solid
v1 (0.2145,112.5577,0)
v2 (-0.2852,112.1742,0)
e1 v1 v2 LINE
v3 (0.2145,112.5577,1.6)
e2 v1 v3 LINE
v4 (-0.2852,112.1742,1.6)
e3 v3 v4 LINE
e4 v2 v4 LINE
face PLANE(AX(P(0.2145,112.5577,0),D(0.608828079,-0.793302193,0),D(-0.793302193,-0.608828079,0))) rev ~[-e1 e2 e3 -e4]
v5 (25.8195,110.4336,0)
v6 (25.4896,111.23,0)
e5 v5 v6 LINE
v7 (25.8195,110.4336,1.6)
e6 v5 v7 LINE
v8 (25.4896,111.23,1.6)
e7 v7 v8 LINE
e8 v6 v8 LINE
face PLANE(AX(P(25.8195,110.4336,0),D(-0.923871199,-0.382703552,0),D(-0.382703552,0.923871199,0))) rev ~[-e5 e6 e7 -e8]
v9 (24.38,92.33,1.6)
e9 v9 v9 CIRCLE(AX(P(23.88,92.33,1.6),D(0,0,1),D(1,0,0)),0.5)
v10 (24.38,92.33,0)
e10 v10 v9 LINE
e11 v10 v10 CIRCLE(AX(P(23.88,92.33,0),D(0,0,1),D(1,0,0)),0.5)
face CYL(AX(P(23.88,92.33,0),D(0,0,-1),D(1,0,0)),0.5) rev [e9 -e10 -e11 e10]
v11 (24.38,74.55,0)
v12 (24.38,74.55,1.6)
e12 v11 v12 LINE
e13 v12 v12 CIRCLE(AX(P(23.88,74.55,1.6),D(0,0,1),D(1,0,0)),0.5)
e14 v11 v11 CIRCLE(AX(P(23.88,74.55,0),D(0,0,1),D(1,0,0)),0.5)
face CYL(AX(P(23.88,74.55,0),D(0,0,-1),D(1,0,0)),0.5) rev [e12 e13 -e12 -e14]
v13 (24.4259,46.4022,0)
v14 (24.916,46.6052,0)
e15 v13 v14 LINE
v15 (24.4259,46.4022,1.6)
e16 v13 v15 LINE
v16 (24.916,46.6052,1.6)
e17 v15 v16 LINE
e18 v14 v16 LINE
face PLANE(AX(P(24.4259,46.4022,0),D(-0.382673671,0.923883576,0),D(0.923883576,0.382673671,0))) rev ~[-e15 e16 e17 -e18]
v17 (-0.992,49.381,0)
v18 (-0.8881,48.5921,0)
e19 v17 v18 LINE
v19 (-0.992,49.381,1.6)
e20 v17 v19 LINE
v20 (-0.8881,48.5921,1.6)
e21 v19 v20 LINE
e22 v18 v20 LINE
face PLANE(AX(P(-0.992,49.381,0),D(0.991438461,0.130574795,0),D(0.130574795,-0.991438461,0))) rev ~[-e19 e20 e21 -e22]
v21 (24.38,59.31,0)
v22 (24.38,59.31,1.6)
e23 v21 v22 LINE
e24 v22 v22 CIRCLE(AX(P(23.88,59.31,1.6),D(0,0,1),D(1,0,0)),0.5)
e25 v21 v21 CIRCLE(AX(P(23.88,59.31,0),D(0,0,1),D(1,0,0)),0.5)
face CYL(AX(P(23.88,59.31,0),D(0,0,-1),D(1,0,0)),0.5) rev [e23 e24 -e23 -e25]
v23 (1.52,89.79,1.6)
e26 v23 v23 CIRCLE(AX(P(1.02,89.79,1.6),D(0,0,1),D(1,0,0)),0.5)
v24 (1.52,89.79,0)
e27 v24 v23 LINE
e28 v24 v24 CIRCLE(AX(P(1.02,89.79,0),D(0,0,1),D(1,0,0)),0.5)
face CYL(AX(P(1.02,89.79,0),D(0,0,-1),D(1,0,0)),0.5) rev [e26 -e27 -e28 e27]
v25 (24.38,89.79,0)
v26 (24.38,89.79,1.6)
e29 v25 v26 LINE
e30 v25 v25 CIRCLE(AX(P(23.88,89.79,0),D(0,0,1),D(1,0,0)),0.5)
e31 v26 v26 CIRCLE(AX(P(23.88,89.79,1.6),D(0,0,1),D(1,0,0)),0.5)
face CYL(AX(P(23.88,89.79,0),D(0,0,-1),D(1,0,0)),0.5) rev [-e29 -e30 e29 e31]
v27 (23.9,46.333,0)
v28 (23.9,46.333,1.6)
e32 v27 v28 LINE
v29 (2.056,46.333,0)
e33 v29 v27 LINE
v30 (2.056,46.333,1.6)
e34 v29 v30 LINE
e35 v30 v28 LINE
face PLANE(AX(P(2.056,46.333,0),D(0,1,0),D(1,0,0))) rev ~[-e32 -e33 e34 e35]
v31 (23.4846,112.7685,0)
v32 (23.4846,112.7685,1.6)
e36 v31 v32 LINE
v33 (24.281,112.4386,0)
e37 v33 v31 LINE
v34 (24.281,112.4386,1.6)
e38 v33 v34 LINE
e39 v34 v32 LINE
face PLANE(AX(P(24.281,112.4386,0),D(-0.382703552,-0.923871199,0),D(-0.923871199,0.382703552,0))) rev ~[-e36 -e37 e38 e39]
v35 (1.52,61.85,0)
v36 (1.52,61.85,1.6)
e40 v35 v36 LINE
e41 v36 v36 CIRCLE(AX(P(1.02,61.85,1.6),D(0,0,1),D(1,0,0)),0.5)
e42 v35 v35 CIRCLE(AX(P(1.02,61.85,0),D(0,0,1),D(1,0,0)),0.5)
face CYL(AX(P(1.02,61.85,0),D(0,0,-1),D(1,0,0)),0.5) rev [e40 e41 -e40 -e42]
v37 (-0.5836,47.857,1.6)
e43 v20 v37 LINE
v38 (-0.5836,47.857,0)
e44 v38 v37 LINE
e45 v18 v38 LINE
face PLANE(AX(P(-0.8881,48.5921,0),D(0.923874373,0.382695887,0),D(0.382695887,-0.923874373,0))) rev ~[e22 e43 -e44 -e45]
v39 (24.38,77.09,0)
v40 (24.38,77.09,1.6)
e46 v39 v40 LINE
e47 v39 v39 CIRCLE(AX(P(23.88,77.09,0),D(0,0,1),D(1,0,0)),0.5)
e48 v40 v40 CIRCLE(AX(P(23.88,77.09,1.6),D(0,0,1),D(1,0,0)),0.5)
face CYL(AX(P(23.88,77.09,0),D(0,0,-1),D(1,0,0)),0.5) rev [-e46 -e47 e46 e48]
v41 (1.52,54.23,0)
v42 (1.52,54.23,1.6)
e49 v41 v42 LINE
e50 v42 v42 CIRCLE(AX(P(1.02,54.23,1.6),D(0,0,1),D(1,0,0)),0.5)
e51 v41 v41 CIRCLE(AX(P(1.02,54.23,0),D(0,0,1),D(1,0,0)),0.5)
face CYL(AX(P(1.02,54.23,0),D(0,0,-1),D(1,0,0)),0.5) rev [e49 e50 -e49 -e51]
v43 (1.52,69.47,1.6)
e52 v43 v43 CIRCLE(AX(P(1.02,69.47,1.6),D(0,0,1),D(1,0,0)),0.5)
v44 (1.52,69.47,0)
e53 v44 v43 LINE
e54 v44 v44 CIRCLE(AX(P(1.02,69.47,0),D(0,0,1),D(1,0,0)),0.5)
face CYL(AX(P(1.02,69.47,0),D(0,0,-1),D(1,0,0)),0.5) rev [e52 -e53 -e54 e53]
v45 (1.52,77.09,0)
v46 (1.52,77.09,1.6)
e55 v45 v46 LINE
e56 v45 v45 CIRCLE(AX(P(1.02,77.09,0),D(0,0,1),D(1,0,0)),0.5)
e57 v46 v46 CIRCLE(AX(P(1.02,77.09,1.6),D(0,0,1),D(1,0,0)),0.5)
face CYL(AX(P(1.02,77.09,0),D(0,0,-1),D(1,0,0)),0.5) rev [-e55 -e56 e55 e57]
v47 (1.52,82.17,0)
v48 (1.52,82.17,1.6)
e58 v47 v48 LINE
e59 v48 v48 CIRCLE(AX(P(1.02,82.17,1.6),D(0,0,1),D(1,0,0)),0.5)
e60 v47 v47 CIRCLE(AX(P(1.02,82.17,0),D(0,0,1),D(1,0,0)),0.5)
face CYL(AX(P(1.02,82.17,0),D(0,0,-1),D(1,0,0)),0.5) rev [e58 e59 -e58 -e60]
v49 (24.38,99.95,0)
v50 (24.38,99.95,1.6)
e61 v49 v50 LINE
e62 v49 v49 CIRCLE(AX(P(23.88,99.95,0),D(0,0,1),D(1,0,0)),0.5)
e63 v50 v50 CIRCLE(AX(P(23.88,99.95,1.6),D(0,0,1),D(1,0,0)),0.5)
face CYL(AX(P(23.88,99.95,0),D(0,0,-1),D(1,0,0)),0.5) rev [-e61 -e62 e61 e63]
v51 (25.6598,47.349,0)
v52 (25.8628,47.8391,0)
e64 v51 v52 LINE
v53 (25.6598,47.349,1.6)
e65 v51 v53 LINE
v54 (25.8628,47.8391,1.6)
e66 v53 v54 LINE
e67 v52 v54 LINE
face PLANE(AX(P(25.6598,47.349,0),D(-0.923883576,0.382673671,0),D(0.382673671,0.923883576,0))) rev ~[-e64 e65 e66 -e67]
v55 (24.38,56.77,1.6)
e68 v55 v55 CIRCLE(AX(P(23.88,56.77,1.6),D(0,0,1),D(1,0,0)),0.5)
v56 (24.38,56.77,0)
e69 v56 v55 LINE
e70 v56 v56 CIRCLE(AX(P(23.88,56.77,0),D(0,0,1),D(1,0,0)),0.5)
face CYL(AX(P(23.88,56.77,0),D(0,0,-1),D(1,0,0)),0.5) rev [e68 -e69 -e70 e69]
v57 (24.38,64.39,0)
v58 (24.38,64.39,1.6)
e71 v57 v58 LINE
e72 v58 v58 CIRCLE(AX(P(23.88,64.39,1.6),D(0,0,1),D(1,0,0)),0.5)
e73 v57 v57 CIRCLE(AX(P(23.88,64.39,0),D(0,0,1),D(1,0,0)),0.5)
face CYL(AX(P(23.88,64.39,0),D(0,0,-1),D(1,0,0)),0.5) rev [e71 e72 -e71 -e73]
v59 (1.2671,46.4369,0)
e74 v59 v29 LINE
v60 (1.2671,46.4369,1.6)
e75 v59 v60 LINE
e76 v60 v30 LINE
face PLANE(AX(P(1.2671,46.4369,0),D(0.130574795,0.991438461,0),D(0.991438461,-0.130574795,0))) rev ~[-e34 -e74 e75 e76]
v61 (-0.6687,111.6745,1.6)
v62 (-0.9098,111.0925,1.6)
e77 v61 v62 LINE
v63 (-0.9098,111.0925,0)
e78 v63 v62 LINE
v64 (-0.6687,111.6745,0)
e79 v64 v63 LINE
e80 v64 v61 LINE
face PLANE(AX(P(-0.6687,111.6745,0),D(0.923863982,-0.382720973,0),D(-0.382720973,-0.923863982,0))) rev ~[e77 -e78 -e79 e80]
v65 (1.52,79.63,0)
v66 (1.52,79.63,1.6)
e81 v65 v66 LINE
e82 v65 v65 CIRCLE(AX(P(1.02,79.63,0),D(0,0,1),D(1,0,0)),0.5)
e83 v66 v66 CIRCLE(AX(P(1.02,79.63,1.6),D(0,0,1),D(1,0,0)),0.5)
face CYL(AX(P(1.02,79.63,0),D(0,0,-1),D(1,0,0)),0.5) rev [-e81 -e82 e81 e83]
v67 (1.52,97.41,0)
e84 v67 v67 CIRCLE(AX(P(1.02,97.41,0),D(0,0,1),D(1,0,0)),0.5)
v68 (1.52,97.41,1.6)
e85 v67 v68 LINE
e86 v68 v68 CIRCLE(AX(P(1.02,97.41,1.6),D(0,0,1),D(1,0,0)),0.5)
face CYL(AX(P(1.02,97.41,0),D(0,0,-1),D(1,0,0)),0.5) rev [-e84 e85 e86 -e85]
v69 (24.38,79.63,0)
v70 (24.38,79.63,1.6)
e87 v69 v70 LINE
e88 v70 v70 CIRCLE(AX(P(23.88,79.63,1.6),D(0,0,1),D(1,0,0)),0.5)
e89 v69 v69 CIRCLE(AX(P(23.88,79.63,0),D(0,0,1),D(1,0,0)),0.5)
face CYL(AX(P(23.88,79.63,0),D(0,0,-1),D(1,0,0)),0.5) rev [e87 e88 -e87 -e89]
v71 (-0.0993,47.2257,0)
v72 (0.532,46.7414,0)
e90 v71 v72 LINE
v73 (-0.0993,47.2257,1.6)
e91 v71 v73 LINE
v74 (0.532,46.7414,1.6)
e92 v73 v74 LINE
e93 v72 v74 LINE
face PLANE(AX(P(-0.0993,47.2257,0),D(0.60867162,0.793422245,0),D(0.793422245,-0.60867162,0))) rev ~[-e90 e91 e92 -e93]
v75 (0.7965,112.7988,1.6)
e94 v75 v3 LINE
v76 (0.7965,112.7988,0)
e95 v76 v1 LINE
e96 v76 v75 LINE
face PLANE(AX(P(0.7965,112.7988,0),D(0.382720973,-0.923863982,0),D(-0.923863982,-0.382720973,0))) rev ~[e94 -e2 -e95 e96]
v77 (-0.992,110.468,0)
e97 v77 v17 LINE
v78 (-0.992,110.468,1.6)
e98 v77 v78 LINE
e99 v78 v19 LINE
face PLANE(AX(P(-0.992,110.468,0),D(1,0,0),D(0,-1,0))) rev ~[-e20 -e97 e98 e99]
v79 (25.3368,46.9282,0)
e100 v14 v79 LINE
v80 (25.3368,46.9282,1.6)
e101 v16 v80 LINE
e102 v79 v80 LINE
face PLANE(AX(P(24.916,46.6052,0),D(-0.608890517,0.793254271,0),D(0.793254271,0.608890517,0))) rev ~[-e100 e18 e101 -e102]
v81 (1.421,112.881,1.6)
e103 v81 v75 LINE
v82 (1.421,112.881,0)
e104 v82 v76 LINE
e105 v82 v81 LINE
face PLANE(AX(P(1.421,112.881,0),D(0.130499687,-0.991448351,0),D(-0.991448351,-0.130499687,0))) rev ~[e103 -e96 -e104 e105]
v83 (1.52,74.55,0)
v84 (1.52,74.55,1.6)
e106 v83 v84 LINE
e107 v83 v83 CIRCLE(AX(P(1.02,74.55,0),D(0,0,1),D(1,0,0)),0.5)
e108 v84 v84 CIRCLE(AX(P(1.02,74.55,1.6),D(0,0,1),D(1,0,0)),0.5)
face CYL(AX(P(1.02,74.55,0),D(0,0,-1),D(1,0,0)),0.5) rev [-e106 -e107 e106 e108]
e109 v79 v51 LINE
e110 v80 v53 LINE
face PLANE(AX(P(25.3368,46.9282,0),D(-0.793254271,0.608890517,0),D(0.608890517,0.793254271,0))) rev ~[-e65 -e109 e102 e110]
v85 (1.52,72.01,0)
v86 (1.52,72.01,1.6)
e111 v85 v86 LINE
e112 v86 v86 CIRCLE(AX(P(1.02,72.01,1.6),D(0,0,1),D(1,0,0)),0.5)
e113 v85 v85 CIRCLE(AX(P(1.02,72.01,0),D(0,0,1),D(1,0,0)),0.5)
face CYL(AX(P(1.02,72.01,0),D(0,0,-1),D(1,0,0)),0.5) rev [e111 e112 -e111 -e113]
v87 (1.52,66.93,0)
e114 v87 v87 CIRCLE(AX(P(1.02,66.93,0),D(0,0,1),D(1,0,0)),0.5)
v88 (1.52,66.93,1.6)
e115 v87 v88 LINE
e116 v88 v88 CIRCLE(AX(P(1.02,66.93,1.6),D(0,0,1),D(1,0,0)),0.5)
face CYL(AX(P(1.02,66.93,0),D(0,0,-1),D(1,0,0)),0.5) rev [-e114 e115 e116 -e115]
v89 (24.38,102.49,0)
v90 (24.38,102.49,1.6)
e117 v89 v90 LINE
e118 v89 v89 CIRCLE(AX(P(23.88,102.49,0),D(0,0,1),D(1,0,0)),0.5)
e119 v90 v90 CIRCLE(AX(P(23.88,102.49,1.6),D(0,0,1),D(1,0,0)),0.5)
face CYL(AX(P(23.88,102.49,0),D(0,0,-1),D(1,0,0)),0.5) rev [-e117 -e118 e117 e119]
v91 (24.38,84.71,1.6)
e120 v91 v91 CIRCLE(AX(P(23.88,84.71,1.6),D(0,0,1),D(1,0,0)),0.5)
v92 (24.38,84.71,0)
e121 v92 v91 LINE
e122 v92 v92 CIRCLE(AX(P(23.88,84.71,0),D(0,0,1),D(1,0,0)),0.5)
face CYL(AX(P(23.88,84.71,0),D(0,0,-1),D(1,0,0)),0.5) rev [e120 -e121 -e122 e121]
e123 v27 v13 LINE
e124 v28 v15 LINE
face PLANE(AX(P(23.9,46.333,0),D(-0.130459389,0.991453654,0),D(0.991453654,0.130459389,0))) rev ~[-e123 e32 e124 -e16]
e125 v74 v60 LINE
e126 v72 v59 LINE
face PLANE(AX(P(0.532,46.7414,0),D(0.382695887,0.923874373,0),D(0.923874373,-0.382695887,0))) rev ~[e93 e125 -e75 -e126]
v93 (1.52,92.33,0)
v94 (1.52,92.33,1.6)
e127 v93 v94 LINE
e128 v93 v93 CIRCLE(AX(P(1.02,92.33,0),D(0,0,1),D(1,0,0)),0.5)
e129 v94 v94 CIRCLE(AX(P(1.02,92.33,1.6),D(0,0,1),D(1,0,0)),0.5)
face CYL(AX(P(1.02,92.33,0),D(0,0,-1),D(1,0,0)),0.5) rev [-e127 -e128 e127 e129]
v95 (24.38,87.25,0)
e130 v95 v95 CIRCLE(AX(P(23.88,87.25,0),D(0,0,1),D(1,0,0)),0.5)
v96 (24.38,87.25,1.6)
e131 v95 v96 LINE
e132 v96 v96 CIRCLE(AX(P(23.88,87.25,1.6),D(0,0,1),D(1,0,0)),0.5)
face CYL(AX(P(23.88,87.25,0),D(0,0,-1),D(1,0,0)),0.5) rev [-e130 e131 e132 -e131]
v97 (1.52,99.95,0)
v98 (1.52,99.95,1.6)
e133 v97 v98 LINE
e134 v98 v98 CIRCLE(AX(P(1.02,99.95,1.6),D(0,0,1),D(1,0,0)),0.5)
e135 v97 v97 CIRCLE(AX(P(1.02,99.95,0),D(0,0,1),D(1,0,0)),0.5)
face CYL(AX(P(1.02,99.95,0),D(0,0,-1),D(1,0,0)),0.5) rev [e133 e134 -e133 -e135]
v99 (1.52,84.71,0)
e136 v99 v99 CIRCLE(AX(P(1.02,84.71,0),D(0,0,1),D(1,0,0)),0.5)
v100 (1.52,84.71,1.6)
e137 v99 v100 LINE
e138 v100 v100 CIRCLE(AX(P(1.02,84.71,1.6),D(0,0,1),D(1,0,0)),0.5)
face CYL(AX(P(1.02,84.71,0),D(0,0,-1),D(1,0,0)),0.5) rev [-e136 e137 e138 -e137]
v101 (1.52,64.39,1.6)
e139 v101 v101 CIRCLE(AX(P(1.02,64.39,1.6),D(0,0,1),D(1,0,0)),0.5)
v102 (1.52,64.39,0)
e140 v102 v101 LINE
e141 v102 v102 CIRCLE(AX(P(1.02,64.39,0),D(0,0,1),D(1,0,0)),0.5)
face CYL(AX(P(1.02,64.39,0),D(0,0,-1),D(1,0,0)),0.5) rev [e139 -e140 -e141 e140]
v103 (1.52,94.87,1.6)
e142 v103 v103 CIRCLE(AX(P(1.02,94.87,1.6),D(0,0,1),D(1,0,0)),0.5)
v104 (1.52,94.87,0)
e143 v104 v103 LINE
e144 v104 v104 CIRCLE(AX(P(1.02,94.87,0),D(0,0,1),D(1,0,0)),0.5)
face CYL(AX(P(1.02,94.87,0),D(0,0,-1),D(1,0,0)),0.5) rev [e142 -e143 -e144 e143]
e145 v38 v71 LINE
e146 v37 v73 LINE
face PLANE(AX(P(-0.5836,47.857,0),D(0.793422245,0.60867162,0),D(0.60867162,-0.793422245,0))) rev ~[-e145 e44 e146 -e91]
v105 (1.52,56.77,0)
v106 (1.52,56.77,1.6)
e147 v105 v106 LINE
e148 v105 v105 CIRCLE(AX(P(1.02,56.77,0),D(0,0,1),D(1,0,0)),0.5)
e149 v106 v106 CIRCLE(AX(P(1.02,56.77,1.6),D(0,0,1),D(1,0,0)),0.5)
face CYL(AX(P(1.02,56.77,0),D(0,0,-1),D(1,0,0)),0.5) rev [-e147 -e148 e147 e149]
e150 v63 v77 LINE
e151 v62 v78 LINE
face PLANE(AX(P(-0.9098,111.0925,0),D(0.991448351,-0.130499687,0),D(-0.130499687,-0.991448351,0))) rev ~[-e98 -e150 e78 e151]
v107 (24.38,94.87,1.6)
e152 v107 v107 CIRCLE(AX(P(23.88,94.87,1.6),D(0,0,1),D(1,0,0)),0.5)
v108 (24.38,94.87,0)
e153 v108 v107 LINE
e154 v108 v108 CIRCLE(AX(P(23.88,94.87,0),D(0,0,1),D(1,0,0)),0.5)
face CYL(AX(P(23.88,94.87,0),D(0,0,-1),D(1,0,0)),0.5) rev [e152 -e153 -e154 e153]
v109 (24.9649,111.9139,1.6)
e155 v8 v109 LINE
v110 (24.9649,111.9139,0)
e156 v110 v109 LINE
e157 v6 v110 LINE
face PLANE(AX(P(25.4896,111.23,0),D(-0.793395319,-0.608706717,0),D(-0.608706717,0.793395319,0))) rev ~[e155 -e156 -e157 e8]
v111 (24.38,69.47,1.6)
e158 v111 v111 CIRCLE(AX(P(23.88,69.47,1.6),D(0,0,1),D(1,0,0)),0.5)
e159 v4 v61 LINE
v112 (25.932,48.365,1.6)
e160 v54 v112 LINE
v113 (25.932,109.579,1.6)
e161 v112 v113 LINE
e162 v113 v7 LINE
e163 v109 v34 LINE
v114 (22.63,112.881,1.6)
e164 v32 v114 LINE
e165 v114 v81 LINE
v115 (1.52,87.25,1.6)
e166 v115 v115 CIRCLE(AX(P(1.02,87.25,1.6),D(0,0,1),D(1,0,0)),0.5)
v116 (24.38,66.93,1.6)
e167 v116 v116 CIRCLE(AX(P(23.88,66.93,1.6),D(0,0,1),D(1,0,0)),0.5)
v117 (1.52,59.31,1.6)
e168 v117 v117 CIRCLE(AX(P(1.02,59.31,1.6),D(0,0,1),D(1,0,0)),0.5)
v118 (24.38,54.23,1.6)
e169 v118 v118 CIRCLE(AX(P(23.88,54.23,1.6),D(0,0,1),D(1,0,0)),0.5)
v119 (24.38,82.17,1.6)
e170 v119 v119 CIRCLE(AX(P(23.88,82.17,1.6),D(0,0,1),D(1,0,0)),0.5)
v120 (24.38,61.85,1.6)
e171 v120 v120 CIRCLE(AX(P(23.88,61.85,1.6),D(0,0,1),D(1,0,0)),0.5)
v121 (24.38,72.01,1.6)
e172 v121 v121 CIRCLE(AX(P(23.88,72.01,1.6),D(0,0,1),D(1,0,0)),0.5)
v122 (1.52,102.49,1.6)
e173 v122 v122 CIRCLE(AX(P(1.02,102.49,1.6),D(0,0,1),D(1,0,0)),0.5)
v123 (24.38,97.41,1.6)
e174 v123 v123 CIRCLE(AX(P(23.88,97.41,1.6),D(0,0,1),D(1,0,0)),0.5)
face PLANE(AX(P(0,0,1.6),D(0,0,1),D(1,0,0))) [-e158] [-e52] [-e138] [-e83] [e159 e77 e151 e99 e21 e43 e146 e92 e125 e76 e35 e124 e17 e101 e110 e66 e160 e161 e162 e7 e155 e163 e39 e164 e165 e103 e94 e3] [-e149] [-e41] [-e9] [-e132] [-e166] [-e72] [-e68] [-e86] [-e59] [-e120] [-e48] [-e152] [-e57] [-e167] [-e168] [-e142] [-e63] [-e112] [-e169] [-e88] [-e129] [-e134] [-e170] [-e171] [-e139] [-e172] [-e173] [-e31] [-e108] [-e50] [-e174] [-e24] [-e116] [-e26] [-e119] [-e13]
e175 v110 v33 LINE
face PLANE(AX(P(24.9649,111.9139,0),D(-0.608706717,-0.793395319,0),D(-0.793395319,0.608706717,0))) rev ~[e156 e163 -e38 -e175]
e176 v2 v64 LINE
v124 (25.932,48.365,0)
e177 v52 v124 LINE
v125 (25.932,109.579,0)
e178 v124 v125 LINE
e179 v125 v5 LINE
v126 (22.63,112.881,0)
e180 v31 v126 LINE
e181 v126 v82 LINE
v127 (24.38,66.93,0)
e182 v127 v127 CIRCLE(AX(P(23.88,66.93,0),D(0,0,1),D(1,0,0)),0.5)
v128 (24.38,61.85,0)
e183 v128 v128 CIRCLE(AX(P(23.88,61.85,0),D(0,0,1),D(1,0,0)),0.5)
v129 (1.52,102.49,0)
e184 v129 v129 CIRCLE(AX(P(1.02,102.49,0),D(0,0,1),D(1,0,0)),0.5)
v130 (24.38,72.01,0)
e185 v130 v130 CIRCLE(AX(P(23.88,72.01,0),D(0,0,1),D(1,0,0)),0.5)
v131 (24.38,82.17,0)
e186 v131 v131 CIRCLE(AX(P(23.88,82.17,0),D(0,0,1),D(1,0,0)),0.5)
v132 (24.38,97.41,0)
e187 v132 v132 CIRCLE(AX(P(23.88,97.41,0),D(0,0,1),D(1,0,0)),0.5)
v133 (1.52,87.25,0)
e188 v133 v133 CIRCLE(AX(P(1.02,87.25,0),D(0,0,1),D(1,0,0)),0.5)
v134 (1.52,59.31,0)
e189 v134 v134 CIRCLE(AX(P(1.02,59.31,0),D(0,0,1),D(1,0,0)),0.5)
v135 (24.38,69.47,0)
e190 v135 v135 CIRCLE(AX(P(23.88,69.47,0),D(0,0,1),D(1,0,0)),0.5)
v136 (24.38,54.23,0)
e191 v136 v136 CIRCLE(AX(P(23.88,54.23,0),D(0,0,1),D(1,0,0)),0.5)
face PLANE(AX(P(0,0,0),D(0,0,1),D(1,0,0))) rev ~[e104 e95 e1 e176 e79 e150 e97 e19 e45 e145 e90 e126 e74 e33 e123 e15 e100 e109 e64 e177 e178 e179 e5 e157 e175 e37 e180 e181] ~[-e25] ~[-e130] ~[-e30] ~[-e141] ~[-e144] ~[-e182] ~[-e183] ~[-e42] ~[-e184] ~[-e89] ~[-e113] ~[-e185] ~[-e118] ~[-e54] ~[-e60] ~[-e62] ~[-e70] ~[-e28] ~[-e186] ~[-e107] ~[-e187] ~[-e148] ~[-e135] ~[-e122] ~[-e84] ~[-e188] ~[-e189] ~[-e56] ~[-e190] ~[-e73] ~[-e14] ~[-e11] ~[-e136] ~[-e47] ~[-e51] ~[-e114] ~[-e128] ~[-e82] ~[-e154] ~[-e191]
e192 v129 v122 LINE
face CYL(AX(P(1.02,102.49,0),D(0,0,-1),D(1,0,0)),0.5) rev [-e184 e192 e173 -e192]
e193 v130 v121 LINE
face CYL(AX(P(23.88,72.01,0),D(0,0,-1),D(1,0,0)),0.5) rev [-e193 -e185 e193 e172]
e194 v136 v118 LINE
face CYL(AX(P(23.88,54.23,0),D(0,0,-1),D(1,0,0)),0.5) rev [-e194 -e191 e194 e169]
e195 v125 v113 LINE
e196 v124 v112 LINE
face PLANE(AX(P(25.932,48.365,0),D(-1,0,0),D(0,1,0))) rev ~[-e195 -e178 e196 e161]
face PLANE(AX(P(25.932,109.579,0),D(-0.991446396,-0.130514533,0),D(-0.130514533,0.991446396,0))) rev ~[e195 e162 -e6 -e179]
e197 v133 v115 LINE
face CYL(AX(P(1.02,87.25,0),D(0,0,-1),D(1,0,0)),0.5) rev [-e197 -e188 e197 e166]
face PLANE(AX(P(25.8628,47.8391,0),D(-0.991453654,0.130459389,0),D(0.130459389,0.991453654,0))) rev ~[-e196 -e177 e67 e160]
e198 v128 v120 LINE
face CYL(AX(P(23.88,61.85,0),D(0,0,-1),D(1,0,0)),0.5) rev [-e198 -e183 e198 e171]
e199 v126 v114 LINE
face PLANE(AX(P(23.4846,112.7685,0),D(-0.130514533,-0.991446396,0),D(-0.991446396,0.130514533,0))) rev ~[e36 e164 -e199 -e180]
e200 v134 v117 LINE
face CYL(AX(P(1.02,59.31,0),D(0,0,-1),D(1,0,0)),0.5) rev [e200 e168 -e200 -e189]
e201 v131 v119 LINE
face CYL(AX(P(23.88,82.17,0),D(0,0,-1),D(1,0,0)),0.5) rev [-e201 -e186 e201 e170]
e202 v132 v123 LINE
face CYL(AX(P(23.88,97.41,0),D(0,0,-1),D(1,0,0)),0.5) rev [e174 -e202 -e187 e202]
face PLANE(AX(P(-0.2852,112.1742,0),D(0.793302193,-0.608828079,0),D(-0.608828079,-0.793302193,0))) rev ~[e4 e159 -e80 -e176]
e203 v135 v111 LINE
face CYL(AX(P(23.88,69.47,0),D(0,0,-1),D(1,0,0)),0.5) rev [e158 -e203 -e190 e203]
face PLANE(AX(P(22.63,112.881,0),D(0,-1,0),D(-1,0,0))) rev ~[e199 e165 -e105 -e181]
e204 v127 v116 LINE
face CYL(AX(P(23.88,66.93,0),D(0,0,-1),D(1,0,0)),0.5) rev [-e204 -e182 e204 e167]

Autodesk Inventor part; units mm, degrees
ref_plane "YZ Plane" through (0, 0, 0) normal (1, 0, 0) x (0, 1, 0)
ref_plane "XZ Plane" through (0, 0, 0) normal (0, 1, 0) x (-1, 0, 0)
ref_plane "XY Plane" through (0, 0, 0) normal (0, 0, 1) x (1, 0, 0)
sketch "Эскиз1" plane through (0, 0, 0) normal (0, 0, 1) x (1, 0, 0)
  line L0 (-0.992, 110.468) -> (-0.992, 49.381)
  line L1 (-0.992, 49.381) -> (-0.8881, 48.5921)
  line L2 (-0.8881, 48.5921) -> (-0.5836, 47.857)
  line L3 (-0.5836, 47.857) -> (-0.0993, 47.2257)
  line L4 (-0.0993, 47.2257) -> (0.532, 46.7414)
  line L5 (0.532, 46.7414) -> (1.2671, 46.4369)
  line L6 (1.2671, 46.4369) -> (2.056, 46.333)
  line L7 (2.056, 46.333) -> (23.9, 46.333)
  line L8 (23.9, 46.333) -> (24.4259, 46.4022)
  line L9 (24.4259, 46.4022) -> (24.916, 46.6052)
  line L10 (24.916, 46.6052) -> (25.3368, 46.9282)
  line L11 (25.3368, 46.9282) -> (25.6598, 47.349)
  line L12 (25.6598, 47.349) -> (25.8628, 47.8391)
  line L13 (25.8628, 47.8391) -> (25.932, 48.365)
  line L14 (25.932, 48.365) -> (25.932, 109.579)
  line L15 (25.932, 109.579) -> (25.8195, 110.4336)
  line L16 (25.8195, 110.4336) -> (25.4896, 111.23)
  line L17 (25.4896, 111.23) -> (24.9649, 111.9139)
  line L18 (24.9649, 111.9139) -> (24.281, 112.4386)
  line L19 (24.281, 112.4386) -> (23.4846, 112.7685)
  line L20 (23.4846, 112.7685) -> (22.63, 112.881)
  line L21 (22.63, 112.881) -> (1.421, 112.881)
  line L22 (1.421, 112.881) -> (0.7965, 112.7988)
  line L23 (0.7965, 112.7988) -> (0.2145, 112.5577)
  line L24 (0.2145, 112.5577) -> (-0.2852, 112.1742)
  line L25 (-0.2852, 112.1742) -> (-0.6687, 111.6745)
  line L26 (-0.6687, 111.6745) -> (-0.9098, 111.0925)
  line L27 (-0.9098, 111.0925) -> (-0.992, 110.468)
  circle A0 centre (-26.67, 99.06) radius 0.5
  circle A1 centre (-26.67, 96.52) radius 0.5
  circle A2 centre (-26.67, 93.98) radius 0.5
  circle A3 centre (-26.67, 91.44) radius 0.5
  circle A4 centre (-26.67, 104.14) radius 0.5
  circle A5 centre (-26.67, 88.9) radius 0.5
  circle A6 centre (-26.67, 86.36) radius 0.5
  circle A7 centre (-26.67, 106.68) radius 0.5
  circle A8 centre (-3.81, 63.5) radius 0.5
  circle A9 centre (-26.67, 83.82) radius 0.5
  circle A10 centre (-26.67, 81.28) radius 0.5
  circle A11 centre (-26.67, 78.74) radius 0.5
  circle A12 centre (-26.67, 76.2) radius 0.5
  circle A13 centre (-26.67, 73.66) radius 0.5
  circle A14 centre (-26.67, 71.12) radius 0.5
  circle A15 centre (-26.67, 68.58) radius 0.5
  circle A16 centre (-26.67, 66.04) radius 0.5
  circle A17 centre (-26.67, 63.5) radius 0.5
  circle A18 centre (-26.67, 60.96) radius 0.5
  circle A19 centre (-3.81, 88.9) radius 0.5
  circle A20 centre (-3.81, 86.36) radius 0.5
  circle A21 centre (-3.81, 83.82) radius 0.5
  circle A22 centre (-3.81, 81.28) radius 0.5
  circle A23 centre (-3.81, 78.74) radius 0.5
  circle A24 centre (-3.81, 76.2) radius 0.5
  circle A25 centre (-3.81, 73.66) radius 0.5
  circle A26 centre (-3.81, 71.12) radius 0.5
  circle A27 centre (-3.81, 68.58) radius 0.5
  circle A28 centre (-3.81, 66.04) radius 0.5
  circle A29 centre (-3.81, 60.96) radius 0.5
  circle A30 centre (-3.81, 96.52) radius 0.5
  circle A31 centre (-26.67, 101.6) radius 0.5
  circle A32 centre (-3.81, 104.14) radius 0.5
  circle A33 centre (-3.81, 101.6) radius 0.5
  circle A34 centre (-3.81, 91.44) radius 0.5
  circle A35 centre (-26.67, 109.22) radius 0.5
  circle A36 centre (-3.81, 99.06) radius 0.5
  circle A37 centre (-3.81, 109.22) radius 0.5
  circle A38 centre (-3.81, 106.68) radius 0.5
  circle A39 centre (-3.81, 93.98) radius 0.5
  circle A40 centre (1.02, 92.33) radius 0.5
  circle A41 centre (1.02, 89.79) radius 0.5
  circle A42 centre (1.02, 87.25) radius 0.5
  circle A43 centre (1.02, 84.71) radius 0.5
  circle A44 centre (1.02, 97.41) radius 0.5
  circle A45 centre (1.02, 82.17) radius 0.5
  circle A46 centre (1.02, 79.63) radius 0.5
  circle A47 centre (1.02, 99.95) radius 0.5
  circle A48 centre (23.88, 56.77) radius 0.5
  circle A49 centre (1.02, 77.09) radius 0.5
  circle A50 centre (1.02, 74.55) radius 0.5
  circle A51 centre (1.02, 72.01) radius 0.5
  circle A52 centre (1.02, 69.47) radius 0.5
  circle A53 centre (1.02, 66.93) radius 0.5
  circle A54 centre (1.02, 64.39) radius 0.5
  circle A55 centre (1.02, 61.85) radius 0.5
  circle A56 centre (1.02, 59.31) radius 0.5
  circle A57 centre (1.02, 56.77) radius 0.5
  circle A58 centre (1.02, 54.23) radius 0.5
  circle A59 centre (23.88, 82.17) radius 0.5
  circle A60 centre (23.88, 79.63) radius 0.5
  circle A61 centre (23.88, 77.09) radius 0.5
  circle A62 centre (23.88, 74.55) radius 0.5
  circle A63 centre (23.88, 72.01) radius 0.5
  circle A64 centre (23.88, 69.47) radius 0.5
  circle A65 centre (23.88, 66.93) radius 0.5
  circle A66 centre (23.88, 64.39) radius 0.5
  circle A67 centre (23.88, 61.85) radius 0.5
  circle A68 centre (23.88, 59.31) radius 0.5
  circle A69 centre (23.88, 54.23) radius 0.5
  circle A70 centre (23.88, 89.79) radius 0.5
  circle A71 centre (1.02, 94.87) radius 0.5
  circle A72 centre (23.88, 97.41) radius 0.5
  circle A73 centre (23.88, 94.87) radius 0.5
  circle A74 centre (23.88, 84.71) radius 0.5
  circle A75 centre (1.02, 102.49) radius 0.5
  circle A76 centre (23.88, 92.33) radius 0.5
  circle A77 centre (23.88, 102.49) radius 0.5
  circle A78 centre (23.88, 99.95) radius 0.5
  circle A79 centre (23.88, 87.25) radius 0.5
extrude "untitled.brdКонтур" add sketch "Эскиз1" along normal blind 1.6
sketch "Эскиз2" plane through (-0.992, 49.381, 0) normal (-1, 0, 0) x (0, 0, 1)
  line L0 (-26.1671, -21.9018) -> (16.6735, -21.9018)
  line L1 (16.6735, -21.9018) -> (16.6735, 72.0181)
  line L2 (16.6735, 72.0181) -> (-26.1671, 72.0181)
  line L3 (-26.1671, 72.0181) -> (-26.1671, -21.9018)
  point P0 (0, -49.381)
extrude "Выдавливание2" cut sketch "Эскиз2" along normal blind 30.75
properties part number "untitled.brdКонтур"
